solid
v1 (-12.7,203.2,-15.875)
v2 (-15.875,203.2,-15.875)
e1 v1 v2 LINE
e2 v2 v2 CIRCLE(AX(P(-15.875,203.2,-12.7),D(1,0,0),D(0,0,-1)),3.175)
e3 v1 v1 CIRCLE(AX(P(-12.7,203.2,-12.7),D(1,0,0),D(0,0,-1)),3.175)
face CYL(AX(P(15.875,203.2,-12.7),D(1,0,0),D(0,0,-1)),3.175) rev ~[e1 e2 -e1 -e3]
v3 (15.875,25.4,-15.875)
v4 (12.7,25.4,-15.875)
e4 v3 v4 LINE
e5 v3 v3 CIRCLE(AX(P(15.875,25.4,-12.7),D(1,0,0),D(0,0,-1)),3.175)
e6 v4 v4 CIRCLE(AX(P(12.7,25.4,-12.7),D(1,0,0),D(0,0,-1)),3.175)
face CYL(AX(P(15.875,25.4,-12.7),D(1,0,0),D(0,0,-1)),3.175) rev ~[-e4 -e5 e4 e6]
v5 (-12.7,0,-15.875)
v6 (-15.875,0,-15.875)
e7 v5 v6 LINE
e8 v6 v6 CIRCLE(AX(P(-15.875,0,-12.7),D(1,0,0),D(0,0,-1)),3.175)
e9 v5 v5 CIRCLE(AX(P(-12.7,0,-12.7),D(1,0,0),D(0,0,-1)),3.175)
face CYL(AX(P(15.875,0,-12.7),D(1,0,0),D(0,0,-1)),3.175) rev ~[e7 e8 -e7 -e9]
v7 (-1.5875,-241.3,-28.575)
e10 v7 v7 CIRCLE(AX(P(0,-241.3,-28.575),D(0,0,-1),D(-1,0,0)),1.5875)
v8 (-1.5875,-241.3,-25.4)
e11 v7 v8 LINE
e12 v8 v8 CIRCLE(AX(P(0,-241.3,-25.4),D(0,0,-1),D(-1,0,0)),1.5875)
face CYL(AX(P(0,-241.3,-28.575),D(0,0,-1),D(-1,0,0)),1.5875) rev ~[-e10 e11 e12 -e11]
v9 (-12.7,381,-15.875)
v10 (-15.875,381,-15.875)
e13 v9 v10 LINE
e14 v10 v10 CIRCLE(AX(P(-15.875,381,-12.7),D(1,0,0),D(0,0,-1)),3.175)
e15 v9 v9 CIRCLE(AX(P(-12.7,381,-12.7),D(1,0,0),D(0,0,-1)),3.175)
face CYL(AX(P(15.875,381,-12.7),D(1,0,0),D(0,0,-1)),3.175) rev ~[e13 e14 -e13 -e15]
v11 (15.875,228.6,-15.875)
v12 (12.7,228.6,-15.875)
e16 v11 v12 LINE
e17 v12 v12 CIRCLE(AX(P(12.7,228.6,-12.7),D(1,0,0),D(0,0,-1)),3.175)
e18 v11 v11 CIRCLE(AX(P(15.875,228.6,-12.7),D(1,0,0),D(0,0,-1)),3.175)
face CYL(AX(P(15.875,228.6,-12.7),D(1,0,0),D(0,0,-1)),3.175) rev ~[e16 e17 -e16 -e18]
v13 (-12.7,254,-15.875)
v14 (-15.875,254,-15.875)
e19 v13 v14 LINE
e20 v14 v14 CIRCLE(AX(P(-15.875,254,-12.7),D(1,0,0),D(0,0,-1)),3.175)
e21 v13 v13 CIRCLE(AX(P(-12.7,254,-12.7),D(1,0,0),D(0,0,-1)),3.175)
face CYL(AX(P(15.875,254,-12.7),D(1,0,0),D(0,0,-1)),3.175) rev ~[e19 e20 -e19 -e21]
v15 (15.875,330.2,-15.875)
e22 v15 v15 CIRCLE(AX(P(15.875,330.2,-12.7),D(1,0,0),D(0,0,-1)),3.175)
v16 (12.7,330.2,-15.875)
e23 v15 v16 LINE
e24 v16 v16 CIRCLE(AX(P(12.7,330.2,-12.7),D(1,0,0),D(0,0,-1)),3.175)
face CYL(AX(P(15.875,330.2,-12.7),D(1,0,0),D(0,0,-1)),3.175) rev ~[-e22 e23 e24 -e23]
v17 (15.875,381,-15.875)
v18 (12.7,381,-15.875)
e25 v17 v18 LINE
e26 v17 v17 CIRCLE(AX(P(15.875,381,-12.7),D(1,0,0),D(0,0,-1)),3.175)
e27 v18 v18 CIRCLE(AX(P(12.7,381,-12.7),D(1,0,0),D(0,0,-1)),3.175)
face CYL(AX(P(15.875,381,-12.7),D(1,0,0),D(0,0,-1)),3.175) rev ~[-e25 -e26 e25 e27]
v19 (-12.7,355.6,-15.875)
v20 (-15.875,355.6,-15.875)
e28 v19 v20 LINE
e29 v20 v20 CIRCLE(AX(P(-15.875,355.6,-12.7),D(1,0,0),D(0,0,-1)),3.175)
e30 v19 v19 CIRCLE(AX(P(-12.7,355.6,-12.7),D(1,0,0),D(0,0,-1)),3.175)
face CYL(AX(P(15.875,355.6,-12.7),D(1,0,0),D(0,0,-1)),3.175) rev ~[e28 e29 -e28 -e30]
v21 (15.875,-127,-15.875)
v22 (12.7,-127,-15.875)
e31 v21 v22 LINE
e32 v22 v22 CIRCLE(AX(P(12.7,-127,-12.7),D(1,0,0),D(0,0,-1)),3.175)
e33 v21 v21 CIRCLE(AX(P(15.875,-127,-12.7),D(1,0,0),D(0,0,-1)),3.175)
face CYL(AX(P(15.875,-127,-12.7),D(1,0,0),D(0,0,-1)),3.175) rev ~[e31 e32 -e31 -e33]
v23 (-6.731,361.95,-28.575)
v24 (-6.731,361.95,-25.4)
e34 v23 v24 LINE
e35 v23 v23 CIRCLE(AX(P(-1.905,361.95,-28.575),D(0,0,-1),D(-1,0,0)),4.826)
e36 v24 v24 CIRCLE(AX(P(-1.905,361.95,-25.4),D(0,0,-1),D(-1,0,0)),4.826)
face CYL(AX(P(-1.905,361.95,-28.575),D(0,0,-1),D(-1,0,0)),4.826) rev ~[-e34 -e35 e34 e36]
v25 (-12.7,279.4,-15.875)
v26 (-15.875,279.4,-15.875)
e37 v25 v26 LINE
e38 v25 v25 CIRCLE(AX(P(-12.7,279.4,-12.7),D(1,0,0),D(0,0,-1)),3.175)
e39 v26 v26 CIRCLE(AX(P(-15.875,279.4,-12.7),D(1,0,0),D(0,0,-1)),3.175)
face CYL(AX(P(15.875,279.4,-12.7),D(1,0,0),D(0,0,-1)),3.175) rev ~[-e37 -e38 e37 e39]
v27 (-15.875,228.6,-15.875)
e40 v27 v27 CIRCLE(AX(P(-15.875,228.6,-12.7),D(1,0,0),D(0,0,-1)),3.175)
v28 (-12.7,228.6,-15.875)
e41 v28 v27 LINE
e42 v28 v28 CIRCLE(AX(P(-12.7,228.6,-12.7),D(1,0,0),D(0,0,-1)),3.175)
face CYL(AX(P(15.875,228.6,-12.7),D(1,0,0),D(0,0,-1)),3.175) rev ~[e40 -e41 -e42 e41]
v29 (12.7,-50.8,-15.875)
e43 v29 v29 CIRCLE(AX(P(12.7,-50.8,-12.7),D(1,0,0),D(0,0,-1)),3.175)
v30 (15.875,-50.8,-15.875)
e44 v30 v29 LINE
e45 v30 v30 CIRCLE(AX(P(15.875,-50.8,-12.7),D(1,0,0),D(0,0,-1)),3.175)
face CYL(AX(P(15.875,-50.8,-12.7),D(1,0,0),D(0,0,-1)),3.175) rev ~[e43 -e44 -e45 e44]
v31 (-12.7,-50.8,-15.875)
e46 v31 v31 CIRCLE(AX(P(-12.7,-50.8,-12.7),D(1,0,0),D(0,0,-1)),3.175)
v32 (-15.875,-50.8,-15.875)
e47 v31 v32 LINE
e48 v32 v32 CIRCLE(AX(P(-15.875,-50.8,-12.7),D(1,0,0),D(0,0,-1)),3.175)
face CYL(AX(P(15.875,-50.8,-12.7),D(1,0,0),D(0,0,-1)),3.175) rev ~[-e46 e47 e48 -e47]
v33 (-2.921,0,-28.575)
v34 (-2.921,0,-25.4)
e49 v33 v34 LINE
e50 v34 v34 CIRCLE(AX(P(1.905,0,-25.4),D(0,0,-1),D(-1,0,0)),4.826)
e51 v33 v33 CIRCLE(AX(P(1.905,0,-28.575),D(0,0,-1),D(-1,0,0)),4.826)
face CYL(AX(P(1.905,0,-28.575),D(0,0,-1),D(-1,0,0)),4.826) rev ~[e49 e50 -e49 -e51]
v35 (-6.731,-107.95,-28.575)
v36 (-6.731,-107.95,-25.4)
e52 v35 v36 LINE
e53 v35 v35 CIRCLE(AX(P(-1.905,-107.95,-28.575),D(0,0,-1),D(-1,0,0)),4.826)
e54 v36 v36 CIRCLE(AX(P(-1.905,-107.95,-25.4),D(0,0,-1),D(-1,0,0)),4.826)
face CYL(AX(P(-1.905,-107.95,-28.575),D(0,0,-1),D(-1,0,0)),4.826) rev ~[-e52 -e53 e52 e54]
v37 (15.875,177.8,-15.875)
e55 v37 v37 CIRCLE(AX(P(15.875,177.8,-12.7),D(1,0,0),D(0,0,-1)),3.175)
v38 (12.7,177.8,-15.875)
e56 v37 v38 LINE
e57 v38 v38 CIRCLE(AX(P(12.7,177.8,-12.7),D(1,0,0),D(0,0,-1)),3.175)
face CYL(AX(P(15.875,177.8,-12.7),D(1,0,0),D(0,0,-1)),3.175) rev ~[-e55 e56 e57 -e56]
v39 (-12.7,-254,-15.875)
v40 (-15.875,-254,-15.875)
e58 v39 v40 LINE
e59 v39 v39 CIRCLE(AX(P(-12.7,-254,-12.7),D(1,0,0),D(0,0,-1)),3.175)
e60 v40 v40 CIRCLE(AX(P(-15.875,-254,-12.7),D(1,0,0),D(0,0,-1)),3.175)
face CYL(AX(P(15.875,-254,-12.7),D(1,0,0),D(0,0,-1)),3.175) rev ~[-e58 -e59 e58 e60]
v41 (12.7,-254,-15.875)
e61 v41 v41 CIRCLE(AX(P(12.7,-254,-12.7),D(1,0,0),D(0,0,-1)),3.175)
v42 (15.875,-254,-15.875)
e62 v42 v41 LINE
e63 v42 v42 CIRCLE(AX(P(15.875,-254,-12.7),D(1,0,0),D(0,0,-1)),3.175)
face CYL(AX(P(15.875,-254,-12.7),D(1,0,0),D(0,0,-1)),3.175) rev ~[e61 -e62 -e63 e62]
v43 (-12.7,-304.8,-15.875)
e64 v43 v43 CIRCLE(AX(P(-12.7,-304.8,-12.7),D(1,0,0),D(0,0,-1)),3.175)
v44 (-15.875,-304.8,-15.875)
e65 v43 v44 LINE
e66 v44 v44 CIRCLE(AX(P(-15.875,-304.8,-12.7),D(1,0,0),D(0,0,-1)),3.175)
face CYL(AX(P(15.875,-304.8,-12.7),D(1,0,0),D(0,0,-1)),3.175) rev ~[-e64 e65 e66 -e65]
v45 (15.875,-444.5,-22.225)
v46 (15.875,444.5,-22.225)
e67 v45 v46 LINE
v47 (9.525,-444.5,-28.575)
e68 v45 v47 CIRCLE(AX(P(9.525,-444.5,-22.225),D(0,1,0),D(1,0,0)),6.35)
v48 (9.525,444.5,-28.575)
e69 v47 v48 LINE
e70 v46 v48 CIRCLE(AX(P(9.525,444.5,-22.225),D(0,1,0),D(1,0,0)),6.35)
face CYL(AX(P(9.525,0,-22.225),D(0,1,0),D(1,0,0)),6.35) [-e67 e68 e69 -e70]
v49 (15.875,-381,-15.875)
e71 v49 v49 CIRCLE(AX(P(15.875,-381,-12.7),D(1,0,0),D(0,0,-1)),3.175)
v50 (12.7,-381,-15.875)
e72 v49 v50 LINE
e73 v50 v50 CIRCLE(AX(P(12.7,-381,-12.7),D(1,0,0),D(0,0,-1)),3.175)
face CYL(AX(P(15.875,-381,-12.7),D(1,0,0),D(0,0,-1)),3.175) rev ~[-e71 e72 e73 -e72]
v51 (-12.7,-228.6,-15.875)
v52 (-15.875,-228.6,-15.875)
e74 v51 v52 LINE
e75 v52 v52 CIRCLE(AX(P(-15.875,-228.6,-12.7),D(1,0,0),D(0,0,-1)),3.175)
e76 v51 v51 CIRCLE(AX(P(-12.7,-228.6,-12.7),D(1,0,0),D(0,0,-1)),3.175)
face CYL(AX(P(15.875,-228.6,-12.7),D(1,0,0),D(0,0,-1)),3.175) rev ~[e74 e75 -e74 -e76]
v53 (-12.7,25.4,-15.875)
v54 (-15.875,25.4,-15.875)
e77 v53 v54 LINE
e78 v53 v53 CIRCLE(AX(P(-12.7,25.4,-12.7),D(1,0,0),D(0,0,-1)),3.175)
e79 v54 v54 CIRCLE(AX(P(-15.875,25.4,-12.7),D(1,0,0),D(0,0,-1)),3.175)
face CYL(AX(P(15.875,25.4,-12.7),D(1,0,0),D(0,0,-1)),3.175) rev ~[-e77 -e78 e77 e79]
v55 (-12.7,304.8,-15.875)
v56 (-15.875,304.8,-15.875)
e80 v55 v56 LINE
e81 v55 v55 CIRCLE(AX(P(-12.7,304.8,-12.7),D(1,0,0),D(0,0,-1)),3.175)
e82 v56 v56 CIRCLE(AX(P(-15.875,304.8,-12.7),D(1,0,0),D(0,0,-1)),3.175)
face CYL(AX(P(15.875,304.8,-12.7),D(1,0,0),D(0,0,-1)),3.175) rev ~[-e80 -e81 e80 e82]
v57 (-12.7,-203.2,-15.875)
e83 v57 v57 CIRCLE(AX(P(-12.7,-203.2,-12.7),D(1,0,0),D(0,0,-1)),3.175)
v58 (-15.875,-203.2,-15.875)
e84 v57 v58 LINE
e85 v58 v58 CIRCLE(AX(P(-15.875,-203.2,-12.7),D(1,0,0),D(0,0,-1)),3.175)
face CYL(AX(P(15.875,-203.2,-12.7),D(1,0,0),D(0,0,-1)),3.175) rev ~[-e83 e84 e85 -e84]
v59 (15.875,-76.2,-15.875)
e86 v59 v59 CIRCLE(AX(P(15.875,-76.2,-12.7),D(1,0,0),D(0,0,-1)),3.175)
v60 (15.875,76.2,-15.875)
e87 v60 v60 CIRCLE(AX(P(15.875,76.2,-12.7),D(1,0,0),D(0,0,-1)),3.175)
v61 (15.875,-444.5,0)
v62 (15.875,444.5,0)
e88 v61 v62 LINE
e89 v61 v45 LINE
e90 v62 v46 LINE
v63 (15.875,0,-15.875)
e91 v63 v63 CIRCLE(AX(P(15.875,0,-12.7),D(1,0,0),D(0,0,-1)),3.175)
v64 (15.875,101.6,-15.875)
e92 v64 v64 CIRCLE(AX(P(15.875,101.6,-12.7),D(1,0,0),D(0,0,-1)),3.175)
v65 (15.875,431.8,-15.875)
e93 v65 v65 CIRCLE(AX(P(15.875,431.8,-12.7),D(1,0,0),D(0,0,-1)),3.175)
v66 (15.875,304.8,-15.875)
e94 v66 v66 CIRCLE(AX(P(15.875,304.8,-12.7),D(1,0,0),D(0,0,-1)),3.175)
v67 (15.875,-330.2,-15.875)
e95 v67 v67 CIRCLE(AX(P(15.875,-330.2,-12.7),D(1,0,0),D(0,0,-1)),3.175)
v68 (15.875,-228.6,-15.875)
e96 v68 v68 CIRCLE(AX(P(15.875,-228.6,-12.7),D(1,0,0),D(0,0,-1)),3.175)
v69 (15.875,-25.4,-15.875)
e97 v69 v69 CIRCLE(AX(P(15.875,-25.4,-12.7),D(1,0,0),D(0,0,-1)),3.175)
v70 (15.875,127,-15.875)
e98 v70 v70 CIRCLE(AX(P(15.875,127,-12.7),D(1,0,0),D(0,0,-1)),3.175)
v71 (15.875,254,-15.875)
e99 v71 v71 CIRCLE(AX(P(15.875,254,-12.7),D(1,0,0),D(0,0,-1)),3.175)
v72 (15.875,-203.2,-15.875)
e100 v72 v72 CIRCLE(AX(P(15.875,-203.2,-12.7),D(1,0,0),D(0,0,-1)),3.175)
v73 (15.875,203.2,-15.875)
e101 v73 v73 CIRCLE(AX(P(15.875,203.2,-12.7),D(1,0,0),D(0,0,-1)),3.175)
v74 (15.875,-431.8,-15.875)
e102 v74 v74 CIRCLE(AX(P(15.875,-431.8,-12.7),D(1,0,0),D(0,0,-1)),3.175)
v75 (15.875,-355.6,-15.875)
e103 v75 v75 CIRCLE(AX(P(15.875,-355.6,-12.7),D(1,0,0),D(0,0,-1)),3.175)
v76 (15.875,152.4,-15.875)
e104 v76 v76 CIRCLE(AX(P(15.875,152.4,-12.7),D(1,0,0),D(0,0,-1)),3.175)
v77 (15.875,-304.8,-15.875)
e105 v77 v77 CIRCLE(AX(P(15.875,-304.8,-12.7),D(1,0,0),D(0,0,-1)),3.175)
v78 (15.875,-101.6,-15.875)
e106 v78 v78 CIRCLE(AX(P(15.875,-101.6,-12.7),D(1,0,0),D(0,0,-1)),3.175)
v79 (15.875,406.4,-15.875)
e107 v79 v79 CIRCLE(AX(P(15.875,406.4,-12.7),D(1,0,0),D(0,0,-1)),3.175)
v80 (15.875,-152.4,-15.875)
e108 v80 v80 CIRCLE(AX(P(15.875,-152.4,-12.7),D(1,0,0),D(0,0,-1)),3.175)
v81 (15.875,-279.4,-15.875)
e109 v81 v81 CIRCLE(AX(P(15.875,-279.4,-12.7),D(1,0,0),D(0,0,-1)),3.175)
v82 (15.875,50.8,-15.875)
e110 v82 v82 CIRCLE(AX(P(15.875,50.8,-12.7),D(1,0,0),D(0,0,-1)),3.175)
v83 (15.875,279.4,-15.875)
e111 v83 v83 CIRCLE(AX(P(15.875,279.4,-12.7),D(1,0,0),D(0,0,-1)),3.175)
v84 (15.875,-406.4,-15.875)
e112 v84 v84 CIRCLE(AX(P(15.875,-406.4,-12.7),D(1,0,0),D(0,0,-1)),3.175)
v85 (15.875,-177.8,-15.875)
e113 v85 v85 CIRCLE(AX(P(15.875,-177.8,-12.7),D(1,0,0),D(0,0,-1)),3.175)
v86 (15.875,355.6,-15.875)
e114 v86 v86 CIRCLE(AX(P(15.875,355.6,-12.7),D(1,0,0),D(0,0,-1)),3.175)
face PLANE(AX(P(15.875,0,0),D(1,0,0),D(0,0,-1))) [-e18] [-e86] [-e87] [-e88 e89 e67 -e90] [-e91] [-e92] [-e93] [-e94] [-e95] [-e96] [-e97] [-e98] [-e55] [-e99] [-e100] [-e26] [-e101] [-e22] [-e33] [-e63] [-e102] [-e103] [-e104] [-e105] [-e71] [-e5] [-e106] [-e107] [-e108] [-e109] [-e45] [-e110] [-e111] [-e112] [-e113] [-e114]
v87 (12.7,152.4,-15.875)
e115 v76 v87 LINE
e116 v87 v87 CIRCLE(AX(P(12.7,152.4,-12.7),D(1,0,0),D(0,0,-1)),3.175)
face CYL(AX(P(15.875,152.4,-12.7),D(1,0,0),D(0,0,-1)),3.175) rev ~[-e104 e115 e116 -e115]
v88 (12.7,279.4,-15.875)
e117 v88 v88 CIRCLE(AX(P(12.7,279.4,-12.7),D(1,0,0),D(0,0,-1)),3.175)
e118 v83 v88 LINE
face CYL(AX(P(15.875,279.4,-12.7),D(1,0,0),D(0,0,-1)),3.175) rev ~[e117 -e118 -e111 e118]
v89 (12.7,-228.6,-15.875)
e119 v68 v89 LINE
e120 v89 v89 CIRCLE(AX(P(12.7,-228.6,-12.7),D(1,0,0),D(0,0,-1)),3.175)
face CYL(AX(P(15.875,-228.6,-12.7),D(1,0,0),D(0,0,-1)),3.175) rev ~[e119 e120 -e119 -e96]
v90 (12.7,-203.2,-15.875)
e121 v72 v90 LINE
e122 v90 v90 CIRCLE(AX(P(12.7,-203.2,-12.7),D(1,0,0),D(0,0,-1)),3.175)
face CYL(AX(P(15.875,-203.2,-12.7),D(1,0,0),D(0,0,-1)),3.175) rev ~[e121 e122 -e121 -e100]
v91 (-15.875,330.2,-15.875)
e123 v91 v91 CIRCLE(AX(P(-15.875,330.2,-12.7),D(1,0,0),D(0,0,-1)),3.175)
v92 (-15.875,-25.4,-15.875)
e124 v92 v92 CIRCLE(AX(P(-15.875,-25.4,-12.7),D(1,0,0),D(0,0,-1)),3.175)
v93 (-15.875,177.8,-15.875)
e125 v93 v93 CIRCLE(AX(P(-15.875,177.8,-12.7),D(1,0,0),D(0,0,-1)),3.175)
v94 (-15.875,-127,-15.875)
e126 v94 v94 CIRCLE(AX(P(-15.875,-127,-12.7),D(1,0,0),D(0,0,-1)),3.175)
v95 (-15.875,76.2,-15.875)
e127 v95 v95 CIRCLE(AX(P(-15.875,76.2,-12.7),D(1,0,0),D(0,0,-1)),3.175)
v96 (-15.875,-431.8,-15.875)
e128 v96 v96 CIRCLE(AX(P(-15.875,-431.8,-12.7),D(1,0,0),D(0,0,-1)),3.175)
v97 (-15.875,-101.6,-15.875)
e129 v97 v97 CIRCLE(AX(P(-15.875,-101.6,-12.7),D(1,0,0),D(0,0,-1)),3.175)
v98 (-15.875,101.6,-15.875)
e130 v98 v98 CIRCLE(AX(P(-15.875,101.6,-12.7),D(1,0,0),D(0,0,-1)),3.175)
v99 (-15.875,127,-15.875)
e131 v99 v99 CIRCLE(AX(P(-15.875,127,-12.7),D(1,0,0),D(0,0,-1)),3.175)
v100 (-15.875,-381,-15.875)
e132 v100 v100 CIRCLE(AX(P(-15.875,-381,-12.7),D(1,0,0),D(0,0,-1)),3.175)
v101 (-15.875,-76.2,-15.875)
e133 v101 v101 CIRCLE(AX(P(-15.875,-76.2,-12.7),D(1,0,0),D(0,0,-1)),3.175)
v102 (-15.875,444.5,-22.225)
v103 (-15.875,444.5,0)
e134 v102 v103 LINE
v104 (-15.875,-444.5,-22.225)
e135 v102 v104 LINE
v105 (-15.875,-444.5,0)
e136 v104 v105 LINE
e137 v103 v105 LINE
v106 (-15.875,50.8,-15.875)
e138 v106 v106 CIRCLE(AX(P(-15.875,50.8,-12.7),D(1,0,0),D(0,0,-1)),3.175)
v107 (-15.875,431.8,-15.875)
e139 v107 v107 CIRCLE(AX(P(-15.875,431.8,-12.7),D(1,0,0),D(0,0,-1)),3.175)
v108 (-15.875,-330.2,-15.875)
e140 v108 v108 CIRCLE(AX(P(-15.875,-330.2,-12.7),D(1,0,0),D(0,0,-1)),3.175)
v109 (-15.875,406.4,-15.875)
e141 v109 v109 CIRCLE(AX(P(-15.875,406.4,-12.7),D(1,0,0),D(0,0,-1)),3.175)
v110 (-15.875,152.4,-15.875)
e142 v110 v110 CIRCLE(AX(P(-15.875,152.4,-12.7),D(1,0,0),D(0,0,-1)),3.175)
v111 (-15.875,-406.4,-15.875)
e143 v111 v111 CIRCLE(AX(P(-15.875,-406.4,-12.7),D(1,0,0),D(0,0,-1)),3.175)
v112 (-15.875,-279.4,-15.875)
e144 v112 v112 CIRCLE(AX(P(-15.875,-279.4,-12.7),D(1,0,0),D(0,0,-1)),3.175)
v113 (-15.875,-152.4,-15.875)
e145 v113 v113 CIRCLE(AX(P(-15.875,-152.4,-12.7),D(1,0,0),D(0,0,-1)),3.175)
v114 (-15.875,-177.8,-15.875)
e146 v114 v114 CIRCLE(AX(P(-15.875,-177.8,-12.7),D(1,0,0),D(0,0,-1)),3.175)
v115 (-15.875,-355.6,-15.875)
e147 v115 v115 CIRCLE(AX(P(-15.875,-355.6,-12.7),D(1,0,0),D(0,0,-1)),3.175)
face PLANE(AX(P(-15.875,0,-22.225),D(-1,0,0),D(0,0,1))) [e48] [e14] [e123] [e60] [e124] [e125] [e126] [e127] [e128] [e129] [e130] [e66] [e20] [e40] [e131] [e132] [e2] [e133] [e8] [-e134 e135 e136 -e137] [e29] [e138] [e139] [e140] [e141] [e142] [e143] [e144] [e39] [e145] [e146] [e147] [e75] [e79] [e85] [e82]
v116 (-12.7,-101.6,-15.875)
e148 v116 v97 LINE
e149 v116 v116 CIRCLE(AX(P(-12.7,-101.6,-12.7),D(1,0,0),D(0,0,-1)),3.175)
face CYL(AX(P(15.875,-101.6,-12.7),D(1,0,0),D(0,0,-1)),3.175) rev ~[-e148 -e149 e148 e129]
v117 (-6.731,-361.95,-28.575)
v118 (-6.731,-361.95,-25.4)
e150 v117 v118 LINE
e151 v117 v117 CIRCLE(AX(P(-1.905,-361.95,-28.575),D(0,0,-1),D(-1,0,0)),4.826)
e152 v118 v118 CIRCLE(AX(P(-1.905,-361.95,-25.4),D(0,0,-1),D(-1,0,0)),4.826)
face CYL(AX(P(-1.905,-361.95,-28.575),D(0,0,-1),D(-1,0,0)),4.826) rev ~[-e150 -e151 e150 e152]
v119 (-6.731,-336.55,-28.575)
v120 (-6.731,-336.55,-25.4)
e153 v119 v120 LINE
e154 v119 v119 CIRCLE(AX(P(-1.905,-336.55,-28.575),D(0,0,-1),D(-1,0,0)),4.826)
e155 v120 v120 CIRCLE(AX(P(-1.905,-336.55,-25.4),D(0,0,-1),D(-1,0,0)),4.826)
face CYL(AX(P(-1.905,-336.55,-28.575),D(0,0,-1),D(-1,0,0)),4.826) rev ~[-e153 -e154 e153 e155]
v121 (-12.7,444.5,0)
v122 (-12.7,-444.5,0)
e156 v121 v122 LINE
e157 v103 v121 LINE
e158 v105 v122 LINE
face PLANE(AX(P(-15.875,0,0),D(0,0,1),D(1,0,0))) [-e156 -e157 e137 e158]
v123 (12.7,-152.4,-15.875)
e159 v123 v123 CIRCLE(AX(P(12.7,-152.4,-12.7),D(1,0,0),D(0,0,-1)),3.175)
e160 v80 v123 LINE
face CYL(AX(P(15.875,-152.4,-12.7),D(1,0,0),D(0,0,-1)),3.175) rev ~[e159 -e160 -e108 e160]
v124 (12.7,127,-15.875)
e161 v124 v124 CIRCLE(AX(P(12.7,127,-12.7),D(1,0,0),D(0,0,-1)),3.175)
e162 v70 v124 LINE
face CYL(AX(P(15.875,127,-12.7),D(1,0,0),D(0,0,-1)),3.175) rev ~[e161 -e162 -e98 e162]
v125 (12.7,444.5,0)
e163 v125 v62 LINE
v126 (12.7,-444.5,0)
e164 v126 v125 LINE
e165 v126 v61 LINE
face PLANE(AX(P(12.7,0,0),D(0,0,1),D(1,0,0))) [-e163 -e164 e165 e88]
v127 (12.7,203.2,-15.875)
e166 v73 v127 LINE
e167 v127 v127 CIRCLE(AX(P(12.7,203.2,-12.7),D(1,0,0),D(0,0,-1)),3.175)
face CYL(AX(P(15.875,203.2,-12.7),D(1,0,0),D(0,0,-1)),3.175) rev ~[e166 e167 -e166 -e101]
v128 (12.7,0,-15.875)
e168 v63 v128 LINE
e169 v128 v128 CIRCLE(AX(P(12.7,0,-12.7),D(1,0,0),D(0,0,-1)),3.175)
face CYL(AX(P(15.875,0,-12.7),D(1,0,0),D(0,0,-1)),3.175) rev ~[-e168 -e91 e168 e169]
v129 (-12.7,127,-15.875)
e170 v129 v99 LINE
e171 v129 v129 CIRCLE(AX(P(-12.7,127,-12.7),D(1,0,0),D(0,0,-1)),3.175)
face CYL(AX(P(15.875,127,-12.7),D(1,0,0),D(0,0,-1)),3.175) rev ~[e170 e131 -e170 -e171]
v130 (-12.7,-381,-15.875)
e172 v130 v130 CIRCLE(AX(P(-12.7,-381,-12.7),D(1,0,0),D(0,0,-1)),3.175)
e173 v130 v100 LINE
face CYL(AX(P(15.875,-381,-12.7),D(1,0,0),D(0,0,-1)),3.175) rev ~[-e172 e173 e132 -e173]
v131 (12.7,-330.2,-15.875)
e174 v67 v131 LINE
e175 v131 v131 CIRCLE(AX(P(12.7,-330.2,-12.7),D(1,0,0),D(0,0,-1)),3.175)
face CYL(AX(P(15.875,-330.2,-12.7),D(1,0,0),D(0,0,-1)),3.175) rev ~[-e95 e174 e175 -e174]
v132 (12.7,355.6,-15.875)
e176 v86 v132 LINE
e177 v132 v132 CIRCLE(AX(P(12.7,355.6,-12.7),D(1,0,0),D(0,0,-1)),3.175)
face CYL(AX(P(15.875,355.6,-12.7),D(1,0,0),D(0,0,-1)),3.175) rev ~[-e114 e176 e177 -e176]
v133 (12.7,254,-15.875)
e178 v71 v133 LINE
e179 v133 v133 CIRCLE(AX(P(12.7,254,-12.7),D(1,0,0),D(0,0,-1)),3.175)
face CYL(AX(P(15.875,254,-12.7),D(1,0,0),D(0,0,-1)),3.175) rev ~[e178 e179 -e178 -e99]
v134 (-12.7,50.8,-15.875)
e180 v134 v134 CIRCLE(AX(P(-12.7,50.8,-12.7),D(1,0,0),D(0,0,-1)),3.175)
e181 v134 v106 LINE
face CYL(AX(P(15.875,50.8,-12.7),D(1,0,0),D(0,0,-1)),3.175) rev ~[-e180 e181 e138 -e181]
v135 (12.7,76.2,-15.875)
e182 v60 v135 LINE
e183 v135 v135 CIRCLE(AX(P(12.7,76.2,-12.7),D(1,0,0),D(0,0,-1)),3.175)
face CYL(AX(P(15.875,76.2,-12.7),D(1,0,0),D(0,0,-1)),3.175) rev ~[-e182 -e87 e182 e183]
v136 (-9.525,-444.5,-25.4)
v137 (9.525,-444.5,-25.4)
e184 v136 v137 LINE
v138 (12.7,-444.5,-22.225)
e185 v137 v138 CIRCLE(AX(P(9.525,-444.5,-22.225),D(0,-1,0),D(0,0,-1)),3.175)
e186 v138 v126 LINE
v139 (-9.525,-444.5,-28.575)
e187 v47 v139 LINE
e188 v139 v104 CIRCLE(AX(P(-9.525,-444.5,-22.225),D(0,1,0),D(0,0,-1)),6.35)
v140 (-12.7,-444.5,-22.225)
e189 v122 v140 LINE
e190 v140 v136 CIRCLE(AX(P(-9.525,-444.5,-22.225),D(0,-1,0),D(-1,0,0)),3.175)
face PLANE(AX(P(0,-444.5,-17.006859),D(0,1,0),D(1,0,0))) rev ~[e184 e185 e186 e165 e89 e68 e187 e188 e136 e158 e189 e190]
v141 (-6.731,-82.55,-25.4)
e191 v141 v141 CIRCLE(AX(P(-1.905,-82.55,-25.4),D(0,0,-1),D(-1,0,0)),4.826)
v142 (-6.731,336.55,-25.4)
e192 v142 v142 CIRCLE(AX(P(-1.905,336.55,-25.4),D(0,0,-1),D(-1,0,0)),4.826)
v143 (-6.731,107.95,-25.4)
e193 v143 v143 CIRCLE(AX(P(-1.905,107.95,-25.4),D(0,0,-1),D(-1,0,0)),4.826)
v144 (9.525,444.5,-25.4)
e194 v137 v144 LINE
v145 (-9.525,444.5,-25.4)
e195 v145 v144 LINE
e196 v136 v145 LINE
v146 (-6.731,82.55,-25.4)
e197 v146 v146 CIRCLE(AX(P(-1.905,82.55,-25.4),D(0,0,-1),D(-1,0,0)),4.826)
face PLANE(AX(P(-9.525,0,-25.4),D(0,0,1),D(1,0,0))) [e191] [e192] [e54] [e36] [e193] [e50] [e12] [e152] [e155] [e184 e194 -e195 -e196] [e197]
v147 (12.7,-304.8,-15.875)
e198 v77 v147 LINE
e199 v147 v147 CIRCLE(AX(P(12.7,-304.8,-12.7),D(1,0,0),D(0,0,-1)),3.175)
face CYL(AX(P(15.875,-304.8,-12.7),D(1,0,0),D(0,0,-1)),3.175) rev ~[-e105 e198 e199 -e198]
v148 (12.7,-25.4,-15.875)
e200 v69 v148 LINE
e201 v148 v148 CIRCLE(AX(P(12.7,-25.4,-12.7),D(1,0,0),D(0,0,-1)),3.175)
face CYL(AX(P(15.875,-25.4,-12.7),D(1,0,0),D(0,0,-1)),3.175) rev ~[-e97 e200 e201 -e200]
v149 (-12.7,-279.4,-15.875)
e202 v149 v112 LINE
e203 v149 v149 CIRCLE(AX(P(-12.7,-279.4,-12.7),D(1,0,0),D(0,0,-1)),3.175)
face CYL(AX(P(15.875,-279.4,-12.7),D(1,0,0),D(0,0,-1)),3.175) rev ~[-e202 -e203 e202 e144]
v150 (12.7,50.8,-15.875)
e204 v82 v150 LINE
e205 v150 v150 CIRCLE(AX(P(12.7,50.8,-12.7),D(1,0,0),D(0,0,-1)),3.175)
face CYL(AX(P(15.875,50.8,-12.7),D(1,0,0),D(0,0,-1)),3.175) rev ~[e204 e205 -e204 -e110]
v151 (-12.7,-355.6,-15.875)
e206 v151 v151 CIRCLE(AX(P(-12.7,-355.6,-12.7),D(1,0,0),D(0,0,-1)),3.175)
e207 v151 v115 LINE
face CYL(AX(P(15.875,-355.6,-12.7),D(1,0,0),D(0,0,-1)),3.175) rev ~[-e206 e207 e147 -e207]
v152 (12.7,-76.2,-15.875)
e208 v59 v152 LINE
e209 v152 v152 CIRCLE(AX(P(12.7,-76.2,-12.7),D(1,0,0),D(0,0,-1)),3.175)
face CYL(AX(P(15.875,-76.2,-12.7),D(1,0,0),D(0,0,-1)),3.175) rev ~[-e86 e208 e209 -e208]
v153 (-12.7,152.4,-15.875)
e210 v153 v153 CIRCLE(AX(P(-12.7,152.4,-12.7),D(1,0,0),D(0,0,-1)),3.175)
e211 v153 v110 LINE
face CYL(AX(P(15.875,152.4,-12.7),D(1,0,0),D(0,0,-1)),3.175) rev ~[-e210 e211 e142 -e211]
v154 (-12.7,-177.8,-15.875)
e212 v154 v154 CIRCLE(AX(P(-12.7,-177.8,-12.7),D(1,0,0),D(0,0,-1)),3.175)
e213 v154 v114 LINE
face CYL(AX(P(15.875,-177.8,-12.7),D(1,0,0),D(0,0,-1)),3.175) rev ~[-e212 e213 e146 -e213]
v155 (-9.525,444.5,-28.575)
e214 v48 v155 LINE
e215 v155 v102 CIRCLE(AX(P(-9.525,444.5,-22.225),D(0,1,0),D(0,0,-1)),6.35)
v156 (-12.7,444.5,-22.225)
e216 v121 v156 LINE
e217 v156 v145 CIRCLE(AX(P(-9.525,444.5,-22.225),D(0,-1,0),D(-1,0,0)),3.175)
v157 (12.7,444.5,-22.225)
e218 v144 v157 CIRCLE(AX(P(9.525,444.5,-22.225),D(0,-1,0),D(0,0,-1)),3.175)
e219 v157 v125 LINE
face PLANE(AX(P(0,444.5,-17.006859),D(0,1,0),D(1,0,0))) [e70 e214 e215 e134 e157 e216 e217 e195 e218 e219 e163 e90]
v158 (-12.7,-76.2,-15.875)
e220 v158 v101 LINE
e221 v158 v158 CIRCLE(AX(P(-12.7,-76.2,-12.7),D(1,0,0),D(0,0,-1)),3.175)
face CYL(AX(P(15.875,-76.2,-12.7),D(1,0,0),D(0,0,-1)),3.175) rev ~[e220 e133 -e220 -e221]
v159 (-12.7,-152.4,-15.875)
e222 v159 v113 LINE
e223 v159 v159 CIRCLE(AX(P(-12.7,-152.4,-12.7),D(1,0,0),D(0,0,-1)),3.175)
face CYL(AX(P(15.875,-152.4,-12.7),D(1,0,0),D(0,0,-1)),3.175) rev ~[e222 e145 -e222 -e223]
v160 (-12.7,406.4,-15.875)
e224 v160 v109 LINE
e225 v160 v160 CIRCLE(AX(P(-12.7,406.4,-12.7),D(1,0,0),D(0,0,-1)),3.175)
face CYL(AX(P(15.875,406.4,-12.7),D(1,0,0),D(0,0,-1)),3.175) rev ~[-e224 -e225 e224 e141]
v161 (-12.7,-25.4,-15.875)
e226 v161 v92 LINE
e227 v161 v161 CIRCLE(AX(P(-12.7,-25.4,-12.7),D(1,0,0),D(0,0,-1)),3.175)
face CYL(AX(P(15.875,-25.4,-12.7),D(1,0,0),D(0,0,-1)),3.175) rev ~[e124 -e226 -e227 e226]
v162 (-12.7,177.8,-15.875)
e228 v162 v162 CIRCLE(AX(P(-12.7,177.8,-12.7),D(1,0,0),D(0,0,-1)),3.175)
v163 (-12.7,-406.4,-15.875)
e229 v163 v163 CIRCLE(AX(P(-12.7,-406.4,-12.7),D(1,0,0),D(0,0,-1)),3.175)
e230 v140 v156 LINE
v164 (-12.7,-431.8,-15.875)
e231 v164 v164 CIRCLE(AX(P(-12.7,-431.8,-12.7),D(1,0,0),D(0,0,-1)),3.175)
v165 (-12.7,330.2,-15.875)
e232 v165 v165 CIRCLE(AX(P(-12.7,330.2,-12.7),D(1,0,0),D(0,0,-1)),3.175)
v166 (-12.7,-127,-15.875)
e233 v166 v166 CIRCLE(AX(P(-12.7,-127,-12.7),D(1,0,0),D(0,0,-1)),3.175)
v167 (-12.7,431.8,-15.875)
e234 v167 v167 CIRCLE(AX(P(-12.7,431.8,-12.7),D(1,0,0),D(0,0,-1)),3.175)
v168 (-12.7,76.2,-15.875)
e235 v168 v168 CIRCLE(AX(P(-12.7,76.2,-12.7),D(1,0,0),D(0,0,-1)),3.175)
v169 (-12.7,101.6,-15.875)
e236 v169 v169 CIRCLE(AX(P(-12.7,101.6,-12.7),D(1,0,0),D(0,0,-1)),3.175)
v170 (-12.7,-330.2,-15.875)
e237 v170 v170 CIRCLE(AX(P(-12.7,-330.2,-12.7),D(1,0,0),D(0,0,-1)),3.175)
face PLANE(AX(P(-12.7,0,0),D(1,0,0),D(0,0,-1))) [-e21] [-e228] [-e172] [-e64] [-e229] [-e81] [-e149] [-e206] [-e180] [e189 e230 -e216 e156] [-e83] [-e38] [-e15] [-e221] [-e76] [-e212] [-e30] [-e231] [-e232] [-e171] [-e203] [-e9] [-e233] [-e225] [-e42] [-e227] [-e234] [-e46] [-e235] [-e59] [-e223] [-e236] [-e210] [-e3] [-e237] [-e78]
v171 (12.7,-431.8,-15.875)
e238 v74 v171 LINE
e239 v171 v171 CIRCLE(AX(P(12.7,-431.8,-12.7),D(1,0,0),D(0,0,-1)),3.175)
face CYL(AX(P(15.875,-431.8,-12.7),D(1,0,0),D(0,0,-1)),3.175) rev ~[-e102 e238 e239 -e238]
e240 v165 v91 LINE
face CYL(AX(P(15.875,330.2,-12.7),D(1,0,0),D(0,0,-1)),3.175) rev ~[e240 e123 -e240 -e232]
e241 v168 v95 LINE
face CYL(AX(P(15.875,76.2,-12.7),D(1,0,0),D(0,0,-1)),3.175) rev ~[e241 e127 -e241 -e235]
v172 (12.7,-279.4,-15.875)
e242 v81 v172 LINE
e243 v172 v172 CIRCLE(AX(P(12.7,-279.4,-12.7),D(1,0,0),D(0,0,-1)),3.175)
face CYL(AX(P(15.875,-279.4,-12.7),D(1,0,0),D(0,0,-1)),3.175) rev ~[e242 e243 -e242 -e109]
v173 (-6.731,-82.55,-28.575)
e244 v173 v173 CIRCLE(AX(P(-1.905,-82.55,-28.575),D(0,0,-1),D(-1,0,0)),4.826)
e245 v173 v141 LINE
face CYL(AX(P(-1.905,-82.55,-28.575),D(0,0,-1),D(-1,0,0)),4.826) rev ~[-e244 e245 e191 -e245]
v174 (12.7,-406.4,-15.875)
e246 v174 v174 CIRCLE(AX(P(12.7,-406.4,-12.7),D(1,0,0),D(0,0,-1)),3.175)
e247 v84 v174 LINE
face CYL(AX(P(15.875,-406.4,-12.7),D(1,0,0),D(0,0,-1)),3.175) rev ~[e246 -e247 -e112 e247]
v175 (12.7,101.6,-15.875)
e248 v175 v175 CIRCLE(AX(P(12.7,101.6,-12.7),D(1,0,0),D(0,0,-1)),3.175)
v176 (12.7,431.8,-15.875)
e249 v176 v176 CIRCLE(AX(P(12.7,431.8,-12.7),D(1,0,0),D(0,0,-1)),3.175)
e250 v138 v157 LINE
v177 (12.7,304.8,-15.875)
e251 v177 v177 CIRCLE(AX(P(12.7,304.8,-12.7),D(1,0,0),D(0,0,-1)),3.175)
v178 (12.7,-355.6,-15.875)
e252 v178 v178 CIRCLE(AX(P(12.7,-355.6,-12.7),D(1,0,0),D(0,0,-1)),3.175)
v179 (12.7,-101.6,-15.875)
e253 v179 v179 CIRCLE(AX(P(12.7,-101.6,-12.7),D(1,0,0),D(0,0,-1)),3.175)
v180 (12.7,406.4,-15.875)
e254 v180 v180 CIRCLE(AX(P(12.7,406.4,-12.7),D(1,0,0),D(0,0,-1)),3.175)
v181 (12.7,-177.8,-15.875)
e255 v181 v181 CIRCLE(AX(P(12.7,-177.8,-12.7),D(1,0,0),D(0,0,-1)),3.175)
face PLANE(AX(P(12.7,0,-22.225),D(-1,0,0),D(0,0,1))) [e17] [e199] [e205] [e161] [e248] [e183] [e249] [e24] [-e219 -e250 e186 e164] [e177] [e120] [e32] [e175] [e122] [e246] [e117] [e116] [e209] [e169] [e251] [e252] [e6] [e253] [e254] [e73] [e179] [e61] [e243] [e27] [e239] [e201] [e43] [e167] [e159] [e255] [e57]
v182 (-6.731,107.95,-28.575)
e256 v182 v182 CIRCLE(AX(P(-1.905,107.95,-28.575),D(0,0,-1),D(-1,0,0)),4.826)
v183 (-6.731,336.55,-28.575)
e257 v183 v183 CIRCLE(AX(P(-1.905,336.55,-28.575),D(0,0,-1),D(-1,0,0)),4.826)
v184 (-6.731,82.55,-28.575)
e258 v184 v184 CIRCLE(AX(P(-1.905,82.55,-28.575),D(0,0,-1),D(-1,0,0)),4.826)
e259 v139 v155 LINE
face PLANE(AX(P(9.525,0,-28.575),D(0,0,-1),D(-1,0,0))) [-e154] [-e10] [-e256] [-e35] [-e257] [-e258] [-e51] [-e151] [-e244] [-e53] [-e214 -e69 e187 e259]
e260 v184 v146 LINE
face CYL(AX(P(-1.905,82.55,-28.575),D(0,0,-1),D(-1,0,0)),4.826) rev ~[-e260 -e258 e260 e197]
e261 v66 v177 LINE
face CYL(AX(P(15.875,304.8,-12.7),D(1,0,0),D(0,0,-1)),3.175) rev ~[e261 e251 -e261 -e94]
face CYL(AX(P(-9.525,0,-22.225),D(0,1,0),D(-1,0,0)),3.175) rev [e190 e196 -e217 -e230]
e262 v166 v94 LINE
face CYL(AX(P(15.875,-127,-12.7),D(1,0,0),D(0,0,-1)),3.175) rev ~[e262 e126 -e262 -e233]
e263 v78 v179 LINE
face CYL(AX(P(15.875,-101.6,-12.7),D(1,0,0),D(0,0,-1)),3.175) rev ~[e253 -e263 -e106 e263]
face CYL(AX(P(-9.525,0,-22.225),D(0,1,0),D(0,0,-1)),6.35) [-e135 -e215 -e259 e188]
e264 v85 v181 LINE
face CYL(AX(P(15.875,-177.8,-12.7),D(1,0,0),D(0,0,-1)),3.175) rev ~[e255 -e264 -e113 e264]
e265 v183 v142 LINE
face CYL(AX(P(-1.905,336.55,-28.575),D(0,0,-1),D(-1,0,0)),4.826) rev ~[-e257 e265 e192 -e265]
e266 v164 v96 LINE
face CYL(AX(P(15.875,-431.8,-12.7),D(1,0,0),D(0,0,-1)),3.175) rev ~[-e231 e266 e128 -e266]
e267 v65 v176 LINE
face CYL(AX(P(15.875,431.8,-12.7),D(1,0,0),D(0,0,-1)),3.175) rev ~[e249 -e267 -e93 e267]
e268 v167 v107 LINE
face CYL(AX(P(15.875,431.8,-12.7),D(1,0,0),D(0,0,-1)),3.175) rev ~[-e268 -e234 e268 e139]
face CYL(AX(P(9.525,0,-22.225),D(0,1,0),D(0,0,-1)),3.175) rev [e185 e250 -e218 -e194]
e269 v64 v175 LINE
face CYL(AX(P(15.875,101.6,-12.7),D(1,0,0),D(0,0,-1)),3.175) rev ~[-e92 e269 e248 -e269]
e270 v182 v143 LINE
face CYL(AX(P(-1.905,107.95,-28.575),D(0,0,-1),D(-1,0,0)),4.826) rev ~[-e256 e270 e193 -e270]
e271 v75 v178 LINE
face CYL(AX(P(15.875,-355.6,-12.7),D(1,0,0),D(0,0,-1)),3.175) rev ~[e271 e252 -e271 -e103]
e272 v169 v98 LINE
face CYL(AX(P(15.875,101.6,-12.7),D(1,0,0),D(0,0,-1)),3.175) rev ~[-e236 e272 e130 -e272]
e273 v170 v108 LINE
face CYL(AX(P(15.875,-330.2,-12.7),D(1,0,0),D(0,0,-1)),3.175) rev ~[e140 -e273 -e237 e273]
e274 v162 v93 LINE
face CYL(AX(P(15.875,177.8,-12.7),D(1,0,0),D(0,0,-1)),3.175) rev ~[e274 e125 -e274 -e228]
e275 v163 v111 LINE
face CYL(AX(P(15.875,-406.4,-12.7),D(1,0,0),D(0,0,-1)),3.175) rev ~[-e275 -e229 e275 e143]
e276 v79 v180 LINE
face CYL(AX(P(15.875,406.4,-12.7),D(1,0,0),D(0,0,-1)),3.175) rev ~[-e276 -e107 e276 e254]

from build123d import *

# Parameters (mm, degrees)
EXTRUDE1_DEPTH = 444.5
SKETCH2_R      = 4.826
SKETCH2_R_2    = 1.5875
EXTRUDE2_DEPTH = 25
SKETCH3_R      = 3.175
EXTRUDE3_DEPTH = 35


with BuildPart() as part:
    # Sketch1 → Extrude1 (new body, symmetric)
    with BuildSketch(Plane(origin=(0, 0, 0), x_dir=(1, 0, 0), z_dir=(0, 1, 0))):
        with BuildLine():
            Line((-12.7, 0), (-12.7, 22.225))
            ThreePointArc((-12.7, 22.225), (-11.77006403, 24.47006403), (-9.525, 25.4))
            Line((-9.525, 25.4), (9.525, 25.4))
            ThreePointArc((9.525, 25.4), (11.77006403, 24.47006403), (12.7, 22.225))
            Line((12.7, 22.225), (12.7, 0))
            Line((12.7, 0), (15.875, 0))
            Line((15.875, 0), (15.875, 22.225))
            ThreePointArc((15.875, 22.225), (14.015128061, 26.715128061), (9.525, 28.575))
            Line((9.525, 28.575), (-9.525, 28.575))
            ThreePointArc((-9.525, 28.575), (-14.015128061, 26.715128061), (-15.875, 22.225))
            Line((-15.875, 22.225), (-15.875, 0))
            Line((-15.875, 0), (-12.7, 0))
        make_face()
    extrude(amount=EXTRUDE1_DEPTH, both=True)

    # Sketch2 → Extrude2 (cut)
    with BuildSketch(Plane(origin=(0, 0, -28.575), x_dir=(-1, 0, 0), z_dir=(0, 0, -1))):
        with Locations((1.905, 361.95)):
            Circle(SKETCH2_R)
        with Locations((1.905, 336.55)):
            Circle(SKETCH2_R)
        with Locations((1.905, 107.95)):
            Circle(SKETCH2_R)
        with Locations((1.905, 82.55)):
            Circle(SKETCH2_R)
        with Locations((-1.905, 0)):
            Circle(SKETCH2_R)
        with Locations((1.905, -361.95)):
            Circle(SKETCH2_R)
        with Locations((1.905, -336.55)):
            Circle(SKETCH2_R)
        with Locations((1.905, -82.55)):
            Circle(SKETCH2_R)
        with Locations((1.905, -107.95)):
            Circle(SKETCH2_R)
        with Locations((0, -241.3)):
            Circle(SKETCH2_R_2)
    extrude(amount=-EXTRUDE2_DEPTH, mode=Mode.SUBTRACT)

    # Sketch3 → Extrude3 (cut)
    with BuildSketch(Plane(origin=(15.875, 0, 0), x_dir=(0, 0, -1), z_dir=(1, 0, 0))):
        with Locations((12.7, 431.8)):
            Circle(SKETCH3_R)
        with Locations((12.7, 406.4)):
            Circle(SKETCH3_R)
        with Locations((12.7, 381)):
            Circle(SKETCH3_R)
        with Locations((12.7, 355.6)):
            Circle(SKETCH3_R)
        with Locations((12.7, 330.2)):
            Circle(SKETCH3_R)
        with Locations((12.7, 304.8)):
            Circle(SKETCH3_R)
        with Locations((12.7, 279.4)):
            Circle(SKETCH3_R)
        with Locations((12.7, 254)):
            Circle(SKETCH3_R)
        with Locations((12.7, 228.6)):
            Circle(SKETCH3_R)
        with Locations((12.7, 203.2)):
            Circle(SKETCH3_R)
        with Locations((12.7, 177.8)):
            Circle(SKETCH3_R)
        with Locations((12.7, 152.4)):
            Circle(SKETCH3_R)
        with Locations((12.7, 127)):
            Circle(SKETCH3_R)
        with Locations((12.7, 101.6)):
            Circle(SKETCH3_R)
        with Locations((12.7, 76.2)):
            Circle(SKETCH3_R)
        with Locations((12.7, 50.8)):
            Circle(SKETCH3_R)
        with Locations((12.7, 25.4)):
            Circle(SKETCH3_R)
        with Locations((12.7, 0)):
            Circle(SKETCH3_R)
        with Locations((12.7, -25.4)):
            Circle(SKETCH3_R)
        with Locations((12.7, -50.8)):
            Circle(SKETCH3_R)
        with Locations((12.7, -76.2)):
            Circle(SKETCH3_R)
        with Locations((12.7, -101.6)):
            Circle(SKETCH3_R)
        with Locations((12.7, -127)):
            Circle(SKETCH3_R)
        with Locations((12.7, -152.4)):
            Circle(SKETCH3_R)
        with Locations((12.7, -177.8)):
            Circle(SKETCH3_R)
        with Locations((12.7, -203.2)):
            Circle(SKETCH3_R)
        with Locations((12.7, -228.6)):
            Circle(SKETCH3_R)
        with Locations((12.7, -254)):
            Circle(SKETCH3_R)
        with Locations((12.7, -279.4)):
            Circle(SKETCH3_R)
        with Locations((12.7, -304.8)):
            Circle(SKETCH3_R)
        with Locations((12.7, -330.2)):
            Circle(SKETCH3_R)
        with Locations((12.7, -355.6)):
            Circle(SKETCH3_R)
        with Locations((12.7, -381)):
            Circle(SKETCH3_R)
        with Locations((12.7, -406.4)):
            Circle(SKETCH3_R)
        with Locations((12.7, -431.8)):
            Circle(SKETCH3_R)
    extrude(amount=-EXTRUDE3_DEPTH, mode=Mode.SUBTRACT)


solid = part.part
